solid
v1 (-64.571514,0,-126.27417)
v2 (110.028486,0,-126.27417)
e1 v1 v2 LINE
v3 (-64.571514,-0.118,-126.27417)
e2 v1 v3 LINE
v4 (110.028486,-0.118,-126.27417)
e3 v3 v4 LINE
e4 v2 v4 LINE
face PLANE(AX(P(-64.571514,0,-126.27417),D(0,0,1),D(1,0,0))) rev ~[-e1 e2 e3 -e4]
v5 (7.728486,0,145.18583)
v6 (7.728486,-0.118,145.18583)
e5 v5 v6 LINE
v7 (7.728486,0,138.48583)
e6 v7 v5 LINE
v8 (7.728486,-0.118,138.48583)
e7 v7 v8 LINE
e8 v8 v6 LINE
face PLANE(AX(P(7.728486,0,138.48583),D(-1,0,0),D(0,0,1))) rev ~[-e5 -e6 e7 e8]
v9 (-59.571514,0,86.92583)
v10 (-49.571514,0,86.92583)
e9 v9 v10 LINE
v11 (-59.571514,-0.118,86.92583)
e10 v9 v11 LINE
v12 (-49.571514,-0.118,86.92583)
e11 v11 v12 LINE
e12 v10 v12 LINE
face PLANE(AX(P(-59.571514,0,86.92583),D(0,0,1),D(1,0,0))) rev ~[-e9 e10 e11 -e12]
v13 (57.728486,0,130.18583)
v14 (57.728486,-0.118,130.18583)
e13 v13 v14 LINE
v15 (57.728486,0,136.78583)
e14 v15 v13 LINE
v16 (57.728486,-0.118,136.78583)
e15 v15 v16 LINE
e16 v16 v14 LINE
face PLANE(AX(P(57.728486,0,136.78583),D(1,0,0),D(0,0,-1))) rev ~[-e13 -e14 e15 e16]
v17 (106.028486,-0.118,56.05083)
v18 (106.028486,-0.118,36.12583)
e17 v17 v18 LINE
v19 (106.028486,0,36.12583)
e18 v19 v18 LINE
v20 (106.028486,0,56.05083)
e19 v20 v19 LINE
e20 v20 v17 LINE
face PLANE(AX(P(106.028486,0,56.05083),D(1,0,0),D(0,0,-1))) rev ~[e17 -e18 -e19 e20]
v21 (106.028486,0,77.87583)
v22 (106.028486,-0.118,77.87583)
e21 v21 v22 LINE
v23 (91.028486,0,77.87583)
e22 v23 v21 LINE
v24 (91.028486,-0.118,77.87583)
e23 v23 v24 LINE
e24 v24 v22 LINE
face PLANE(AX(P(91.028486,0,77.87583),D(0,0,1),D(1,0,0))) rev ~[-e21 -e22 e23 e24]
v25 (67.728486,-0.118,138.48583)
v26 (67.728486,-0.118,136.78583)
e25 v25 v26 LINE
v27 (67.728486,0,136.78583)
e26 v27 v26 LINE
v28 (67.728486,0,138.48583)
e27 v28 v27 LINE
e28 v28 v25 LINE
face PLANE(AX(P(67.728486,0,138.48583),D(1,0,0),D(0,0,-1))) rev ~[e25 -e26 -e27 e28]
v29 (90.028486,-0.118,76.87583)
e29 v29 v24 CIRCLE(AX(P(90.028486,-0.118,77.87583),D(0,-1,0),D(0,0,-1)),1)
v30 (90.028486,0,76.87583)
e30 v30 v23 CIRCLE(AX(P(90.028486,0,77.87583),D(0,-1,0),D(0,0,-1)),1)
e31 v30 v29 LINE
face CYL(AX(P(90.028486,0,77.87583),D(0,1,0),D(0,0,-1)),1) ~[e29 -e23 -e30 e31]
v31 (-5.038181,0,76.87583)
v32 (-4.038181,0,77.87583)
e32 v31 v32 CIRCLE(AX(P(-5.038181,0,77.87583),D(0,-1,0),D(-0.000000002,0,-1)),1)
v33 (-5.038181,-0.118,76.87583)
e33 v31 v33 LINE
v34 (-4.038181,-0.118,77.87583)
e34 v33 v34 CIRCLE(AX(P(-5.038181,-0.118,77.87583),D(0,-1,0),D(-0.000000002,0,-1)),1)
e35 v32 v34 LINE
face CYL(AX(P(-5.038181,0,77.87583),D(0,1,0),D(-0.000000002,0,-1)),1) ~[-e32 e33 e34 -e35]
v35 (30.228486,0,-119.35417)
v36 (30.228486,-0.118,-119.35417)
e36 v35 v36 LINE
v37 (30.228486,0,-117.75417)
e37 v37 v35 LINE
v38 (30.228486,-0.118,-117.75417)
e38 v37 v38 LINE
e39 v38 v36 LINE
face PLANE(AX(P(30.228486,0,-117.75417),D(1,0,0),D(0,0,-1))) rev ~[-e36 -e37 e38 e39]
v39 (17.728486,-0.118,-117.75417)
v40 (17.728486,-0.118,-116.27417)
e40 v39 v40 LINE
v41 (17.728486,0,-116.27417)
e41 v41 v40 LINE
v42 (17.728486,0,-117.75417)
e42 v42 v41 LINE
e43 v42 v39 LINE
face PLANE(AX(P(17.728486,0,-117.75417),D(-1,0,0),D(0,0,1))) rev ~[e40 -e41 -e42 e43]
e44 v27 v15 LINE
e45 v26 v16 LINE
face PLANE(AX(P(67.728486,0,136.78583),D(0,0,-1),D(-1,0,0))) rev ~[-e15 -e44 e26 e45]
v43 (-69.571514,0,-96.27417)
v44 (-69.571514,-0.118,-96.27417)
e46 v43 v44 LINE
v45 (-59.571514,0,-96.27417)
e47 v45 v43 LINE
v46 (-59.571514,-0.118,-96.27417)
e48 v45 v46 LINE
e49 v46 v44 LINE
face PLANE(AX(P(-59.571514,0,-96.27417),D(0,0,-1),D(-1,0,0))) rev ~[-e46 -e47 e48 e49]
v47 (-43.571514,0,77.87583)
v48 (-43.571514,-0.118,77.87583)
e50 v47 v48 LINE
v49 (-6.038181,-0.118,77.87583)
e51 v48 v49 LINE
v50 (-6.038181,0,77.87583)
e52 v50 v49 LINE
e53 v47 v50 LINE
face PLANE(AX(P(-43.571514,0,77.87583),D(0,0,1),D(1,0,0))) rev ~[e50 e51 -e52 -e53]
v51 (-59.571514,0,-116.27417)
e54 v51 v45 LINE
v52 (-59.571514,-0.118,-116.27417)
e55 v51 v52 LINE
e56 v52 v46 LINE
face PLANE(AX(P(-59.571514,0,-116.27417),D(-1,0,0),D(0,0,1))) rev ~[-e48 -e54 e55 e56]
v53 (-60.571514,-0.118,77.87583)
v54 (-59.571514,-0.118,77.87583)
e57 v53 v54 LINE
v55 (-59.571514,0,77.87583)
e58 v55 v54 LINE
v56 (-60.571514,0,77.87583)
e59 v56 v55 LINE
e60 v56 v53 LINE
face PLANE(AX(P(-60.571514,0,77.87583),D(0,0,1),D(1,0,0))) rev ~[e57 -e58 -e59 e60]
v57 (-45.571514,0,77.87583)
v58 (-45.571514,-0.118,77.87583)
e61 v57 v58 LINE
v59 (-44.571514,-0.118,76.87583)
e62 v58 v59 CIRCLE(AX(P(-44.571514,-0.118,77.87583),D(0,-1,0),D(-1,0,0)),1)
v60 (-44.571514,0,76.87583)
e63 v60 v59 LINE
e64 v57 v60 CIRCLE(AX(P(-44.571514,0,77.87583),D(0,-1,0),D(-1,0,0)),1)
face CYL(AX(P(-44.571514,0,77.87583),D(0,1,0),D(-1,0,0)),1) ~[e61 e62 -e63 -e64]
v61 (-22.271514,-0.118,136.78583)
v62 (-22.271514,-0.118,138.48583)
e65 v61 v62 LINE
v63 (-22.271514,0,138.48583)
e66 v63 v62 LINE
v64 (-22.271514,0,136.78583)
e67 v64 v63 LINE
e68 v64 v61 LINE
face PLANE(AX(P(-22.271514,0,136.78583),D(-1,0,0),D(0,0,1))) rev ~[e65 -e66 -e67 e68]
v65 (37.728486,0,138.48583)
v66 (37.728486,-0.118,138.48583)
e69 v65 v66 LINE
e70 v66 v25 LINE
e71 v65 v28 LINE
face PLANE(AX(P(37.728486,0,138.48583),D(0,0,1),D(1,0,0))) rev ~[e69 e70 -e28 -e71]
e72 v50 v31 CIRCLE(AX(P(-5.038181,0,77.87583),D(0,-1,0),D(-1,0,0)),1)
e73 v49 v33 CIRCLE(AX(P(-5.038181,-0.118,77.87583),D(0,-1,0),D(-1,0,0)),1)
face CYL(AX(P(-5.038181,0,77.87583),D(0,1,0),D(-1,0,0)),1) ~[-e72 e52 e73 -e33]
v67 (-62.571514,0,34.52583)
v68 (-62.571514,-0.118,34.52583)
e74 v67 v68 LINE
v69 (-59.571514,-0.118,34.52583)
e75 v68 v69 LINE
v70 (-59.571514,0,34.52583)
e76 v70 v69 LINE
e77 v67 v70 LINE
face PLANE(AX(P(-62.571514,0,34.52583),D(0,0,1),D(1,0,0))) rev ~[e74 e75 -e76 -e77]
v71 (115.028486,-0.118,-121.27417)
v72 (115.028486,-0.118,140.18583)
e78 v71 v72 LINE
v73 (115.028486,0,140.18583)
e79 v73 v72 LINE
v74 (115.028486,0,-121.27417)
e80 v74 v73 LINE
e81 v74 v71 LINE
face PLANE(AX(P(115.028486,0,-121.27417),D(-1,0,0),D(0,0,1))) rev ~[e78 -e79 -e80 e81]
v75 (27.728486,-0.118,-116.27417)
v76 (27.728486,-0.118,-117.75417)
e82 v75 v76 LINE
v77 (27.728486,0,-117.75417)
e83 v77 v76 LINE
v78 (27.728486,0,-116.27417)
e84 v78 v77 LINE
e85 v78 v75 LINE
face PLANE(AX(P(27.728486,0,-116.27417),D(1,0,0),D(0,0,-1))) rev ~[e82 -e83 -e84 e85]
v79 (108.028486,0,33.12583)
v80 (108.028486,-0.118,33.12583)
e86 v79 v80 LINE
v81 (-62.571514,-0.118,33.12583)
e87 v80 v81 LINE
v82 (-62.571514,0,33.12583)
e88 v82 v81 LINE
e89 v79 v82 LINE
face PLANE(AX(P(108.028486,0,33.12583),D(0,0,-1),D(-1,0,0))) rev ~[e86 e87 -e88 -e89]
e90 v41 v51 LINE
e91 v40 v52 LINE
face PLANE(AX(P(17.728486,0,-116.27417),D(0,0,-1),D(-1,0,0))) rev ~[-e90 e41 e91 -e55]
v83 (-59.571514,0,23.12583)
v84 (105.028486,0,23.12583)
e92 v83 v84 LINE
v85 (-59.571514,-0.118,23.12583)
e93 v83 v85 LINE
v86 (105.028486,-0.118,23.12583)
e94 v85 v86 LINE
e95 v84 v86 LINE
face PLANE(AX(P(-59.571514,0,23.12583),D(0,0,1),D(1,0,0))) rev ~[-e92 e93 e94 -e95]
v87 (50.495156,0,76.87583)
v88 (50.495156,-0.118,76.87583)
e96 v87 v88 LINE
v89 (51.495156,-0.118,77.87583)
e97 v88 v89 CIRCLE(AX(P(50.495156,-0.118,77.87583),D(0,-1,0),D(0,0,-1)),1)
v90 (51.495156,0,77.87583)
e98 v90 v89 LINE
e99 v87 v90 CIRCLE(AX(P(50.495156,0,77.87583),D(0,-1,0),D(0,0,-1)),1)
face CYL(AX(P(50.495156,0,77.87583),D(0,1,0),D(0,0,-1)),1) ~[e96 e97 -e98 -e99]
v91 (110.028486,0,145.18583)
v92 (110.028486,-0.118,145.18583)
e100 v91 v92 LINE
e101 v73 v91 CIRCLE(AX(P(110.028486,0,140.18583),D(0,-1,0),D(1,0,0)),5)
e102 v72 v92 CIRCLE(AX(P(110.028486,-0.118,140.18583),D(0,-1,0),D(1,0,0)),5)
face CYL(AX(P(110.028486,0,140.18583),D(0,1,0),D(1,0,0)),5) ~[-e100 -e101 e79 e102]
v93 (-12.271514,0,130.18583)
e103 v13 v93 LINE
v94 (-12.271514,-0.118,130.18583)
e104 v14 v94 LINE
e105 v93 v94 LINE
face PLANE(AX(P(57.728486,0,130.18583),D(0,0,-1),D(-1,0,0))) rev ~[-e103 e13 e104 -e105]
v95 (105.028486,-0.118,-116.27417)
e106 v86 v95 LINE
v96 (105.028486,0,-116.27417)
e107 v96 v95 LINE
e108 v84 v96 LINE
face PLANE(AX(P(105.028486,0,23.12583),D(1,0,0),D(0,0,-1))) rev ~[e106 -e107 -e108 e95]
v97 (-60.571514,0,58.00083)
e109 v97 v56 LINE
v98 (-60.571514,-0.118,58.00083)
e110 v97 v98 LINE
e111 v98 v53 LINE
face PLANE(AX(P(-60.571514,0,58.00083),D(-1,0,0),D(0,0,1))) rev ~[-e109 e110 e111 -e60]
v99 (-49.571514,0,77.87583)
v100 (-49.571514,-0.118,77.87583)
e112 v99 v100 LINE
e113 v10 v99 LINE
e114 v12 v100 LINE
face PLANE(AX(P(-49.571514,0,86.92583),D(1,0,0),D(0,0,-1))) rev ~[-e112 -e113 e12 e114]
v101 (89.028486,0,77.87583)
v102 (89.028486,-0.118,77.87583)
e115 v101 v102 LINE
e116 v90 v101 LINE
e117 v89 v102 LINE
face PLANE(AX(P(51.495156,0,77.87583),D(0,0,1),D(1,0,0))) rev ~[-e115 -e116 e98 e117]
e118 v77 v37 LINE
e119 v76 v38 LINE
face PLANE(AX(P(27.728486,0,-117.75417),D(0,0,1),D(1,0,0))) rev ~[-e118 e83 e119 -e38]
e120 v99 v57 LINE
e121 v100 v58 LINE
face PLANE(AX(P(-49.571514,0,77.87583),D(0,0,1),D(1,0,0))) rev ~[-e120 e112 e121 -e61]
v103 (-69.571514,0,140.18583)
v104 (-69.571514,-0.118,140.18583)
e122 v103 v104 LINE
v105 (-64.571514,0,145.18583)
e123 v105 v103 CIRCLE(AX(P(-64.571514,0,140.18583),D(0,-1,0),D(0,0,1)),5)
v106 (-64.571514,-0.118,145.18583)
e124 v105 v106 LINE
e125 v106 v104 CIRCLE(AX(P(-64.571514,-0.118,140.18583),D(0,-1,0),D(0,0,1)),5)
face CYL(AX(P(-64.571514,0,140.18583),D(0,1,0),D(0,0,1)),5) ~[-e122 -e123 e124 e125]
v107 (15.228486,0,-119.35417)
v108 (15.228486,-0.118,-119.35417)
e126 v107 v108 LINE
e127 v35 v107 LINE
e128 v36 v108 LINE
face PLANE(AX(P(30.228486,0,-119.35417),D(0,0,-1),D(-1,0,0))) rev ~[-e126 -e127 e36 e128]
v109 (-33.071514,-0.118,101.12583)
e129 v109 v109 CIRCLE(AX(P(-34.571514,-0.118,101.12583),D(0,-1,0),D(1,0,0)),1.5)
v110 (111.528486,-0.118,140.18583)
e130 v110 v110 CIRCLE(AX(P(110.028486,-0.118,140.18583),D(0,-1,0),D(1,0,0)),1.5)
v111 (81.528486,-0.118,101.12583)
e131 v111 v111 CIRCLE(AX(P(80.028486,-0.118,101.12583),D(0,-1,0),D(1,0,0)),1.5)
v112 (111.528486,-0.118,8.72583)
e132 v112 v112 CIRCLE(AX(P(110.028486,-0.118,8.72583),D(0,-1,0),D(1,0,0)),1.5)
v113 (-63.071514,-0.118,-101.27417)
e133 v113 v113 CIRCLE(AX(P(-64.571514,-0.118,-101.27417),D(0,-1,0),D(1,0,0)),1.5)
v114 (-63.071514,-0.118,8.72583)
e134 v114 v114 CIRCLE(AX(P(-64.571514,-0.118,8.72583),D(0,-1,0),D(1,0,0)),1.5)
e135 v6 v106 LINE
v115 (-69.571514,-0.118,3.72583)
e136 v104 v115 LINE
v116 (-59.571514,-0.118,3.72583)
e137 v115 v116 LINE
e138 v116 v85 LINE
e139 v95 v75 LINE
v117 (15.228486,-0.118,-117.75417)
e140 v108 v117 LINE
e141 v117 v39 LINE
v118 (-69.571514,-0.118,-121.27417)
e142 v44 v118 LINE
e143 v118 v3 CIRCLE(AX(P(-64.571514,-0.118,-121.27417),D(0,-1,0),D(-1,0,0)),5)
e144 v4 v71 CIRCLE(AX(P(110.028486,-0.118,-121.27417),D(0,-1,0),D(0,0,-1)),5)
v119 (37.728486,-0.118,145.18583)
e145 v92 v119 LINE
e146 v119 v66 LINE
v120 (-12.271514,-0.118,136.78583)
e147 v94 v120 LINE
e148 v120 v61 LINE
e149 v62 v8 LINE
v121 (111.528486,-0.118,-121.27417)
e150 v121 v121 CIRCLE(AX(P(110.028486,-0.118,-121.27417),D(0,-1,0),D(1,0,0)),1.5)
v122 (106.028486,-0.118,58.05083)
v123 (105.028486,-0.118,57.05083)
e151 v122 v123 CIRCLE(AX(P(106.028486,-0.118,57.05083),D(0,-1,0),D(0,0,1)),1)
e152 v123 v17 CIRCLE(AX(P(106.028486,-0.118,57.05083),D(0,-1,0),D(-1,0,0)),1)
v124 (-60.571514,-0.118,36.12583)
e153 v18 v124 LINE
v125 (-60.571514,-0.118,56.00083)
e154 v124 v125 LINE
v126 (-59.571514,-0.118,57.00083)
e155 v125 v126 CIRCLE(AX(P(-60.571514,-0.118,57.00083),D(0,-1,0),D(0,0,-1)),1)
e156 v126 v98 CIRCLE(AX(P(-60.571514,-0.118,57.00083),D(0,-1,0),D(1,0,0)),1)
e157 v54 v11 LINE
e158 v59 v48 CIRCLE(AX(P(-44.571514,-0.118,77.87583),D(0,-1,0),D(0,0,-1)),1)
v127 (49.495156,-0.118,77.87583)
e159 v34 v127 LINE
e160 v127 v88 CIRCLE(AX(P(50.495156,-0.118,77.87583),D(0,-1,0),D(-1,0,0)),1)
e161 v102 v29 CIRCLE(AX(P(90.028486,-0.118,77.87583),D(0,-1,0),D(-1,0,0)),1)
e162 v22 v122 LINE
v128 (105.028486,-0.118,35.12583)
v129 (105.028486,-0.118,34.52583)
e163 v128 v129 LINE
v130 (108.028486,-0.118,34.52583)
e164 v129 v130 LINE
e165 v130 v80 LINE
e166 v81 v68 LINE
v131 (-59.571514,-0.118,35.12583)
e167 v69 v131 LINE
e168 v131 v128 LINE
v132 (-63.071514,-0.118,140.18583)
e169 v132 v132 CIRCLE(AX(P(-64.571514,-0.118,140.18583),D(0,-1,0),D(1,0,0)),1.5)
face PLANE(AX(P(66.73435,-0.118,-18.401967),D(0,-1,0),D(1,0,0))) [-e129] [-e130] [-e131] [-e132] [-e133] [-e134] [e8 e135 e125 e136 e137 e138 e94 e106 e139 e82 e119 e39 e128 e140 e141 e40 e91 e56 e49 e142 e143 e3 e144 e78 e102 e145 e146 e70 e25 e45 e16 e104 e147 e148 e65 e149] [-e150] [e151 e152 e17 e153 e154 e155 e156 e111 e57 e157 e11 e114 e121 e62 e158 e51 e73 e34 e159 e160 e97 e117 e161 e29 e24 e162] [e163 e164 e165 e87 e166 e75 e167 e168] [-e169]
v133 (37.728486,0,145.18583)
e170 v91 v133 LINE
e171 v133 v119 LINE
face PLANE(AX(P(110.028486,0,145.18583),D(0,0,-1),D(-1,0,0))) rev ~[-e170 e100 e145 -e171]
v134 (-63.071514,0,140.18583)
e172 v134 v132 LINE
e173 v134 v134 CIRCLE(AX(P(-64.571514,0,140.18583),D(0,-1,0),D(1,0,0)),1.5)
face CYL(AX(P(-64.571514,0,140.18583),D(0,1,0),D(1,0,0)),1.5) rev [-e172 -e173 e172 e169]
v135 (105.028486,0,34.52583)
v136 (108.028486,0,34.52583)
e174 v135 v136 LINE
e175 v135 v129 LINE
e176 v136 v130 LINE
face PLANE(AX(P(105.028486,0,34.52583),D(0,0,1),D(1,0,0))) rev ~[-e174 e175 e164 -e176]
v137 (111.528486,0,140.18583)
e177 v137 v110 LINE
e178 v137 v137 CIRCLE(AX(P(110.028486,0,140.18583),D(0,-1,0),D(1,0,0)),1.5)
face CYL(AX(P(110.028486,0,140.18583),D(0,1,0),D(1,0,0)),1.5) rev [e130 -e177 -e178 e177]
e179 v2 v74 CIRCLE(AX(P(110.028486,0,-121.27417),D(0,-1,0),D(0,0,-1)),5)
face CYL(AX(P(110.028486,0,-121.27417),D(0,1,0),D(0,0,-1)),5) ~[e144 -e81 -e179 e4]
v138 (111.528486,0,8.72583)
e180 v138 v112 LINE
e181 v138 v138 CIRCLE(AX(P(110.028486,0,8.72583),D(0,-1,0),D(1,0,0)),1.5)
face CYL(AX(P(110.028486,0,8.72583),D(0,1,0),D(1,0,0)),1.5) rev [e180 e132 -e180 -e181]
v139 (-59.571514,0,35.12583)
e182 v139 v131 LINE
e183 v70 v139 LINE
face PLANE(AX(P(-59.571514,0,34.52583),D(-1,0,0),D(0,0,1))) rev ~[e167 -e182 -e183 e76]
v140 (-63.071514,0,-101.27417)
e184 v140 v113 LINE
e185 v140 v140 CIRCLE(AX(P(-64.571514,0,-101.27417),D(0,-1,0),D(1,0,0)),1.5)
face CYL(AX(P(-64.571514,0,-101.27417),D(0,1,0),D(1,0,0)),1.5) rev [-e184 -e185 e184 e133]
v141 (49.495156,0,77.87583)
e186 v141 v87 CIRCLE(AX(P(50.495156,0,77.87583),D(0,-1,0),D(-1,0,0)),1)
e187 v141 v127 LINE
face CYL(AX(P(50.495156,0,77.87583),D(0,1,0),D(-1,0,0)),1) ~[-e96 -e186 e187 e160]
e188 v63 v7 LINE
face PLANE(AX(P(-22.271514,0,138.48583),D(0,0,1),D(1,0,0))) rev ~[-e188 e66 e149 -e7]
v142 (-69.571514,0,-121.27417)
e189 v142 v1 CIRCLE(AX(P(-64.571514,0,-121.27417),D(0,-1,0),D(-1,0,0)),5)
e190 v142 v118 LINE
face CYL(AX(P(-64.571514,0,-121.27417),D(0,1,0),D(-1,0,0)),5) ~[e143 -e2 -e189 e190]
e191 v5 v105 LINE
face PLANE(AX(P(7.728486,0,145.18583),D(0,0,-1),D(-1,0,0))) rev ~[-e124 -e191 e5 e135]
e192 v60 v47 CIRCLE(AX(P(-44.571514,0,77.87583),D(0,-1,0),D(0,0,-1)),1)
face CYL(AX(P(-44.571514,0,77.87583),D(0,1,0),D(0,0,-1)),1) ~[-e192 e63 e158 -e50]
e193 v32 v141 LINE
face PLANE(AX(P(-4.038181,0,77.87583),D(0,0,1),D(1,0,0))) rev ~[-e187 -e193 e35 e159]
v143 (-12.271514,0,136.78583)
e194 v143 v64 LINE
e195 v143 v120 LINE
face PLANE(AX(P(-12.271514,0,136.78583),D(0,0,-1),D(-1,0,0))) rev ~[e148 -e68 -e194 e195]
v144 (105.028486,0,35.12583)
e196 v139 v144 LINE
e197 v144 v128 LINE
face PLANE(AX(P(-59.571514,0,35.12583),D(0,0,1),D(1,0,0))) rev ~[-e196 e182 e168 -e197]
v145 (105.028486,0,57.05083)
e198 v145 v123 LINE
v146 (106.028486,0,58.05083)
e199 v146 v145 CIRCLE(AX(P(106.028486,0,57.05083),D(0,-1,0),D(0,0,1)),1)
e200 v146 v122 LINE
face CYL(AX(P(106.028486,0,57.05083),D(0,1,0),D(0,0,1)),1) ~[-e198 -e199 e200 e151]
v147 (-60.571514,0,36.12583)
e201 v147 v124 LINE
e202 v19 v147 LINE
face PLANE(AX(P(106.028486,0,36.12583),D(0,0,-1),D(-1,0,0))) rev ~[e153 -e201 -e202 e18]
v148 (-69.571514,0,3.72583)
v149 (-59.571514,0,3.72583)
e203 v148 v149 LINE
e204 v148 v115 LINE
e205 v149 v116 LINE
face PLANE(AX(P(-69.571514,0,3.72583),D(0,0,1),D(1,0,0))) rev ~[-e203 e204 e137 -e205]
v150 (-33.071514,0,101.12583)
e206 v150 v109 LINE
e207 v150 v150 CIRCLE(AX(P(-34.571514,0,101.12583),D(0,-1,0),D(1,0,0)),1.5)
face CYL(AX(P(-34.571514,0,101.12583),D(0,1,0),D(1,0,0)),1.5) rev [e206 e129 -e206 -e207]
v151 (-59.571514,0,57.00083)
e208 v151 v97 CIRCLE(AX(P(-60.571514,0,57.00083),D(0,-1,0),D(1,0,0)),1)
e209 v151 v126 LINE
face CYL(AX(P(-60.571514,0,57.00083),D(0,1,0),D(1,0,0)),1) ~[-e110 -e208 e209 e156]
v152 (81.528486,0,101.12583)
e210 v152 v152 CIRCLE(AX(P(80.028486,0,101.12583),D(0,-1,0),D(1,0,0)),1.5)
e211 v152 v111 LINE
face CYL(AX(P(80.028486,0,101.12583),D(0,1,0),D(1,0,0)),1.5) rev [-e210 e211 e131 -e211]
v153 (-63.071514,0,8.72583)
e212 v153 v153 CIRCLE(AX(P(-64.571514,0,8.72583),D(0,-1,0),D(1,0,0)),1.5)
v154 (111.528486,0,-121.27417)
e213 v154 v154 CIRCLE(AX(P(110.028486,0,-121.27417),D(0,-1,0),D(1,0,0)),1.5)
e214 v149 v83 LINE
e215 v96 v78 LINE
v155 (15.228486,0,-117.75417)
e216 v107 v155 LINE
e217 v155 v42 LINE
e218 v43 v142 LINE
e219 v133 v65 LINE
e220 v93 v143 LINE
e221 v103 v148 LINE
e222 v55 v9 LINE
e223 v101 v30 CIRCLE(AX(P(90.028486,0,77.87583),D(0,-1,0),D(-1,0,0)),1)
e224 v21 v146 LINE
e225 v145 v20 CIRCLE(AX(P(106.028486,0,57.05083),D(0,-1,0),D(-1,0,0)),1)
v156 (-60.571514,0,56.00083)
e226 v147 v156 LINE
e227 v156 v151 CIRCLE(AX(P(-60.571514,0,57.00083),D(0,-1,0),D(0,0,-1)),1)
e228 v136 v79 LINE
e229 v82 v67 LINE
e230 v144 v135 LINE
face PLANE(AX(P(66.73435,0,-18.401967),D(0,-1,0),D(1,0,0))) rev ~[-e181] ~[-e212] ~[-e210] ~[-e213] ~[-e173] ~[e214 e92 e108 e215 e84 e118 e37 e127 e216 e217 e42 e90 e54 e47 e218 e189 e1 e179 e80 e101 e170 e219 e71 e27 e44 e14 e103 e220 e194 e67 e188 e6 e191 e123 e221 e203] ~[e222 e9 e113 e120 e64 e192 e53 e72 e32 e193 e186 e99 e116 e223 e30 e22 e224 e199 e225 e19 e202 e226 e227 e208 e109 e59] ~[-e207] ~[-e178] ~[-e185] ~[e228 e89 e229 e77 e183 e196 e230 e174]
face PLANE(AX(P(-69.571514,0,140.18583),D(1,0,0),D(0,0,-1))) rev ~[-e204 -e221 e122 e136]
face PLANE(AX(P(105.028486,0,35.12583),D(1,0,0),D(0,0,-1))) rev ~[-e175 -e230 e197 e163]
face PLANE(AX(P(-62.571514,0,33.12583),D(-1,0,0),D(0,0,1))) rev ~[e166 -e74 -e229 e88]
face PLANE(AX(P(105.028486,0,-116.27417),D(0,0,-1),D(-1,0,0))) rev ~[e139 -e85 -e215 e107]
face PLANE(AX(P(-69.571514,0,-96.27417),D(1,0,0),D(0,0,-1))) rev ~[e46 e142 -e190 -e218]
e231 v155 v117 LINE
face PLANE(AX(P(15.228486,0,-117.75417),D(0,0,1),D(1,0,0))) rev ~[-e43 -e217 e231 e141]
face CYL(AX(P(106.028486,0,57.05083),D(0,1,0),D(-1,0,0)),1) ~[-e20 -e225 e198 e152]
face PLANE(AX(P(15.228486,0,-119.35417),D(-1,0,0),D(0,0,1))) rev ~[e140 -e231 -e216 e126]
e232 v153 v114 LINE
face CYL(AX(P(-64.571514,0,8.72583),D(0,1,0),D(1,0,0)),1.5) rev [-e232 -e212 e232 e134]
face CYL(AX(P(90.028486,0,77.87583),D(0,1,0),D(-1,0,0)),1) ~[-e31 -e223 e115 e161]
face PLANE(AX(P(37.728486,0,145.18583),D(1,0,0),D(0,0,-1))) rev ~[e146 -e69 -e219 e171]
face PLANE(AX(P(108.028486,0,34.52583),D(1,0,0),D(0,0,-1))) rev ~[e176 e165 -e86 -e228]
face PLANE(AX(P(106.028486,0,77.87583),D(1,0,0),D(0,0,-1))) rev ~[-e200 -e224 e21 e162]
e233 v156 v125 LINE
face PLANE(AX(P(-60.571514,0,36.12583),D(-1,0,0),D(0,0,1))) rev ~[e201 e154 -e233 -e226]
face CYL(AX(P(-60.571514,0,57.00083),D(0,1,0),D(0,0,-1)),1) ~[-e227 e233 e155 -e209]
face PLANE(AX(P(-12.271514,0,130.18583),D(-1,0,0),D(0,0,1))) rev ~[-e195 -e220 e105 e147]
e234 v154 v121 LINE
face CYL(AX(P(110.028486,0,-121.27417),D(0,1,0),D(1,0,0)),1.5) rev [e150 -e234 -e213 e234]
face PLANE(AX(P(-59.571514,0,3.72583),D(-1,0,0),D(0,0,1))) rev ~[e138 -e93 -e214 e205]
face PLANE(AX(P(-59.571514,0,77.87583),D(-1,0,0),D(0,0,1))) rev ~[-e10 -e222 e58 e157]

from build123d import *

# Parameters (mm, degrees)
F0_R     = 1.5
F0_W     = 3
F0_H     = 0.6
F0_W_2   = 57.3
F0_H_2   = 10
F0_W_3   = 1.3
F0_H_3   = 1
F0_W_4   = 30
F0_H_4   = 52.31
F1_DEPTH = 0.118


with BuildPart() as f1:
    # F0 (on Front) → F1 (new body)
    with BuildSketch(Plane.XZ):
        with BuildLine():
            Line((110.0284859866, 145.1858304774), (37.7284859866, 145.1858304774))
            Line((37.7284859866, 145.1858304774), (37.7284859866, 138.4858304774))
            Line((37.7284859866, 138.4858304774), (67.7284859866, 138.4858304774))
            Line((67.7284859866, 138.4858304774), (67.7284859866, 136.7858304774))
            Line((67.7284859866, 136.7858304774), (57.7284859866, 136.7858304774))
            Line((57.7284859866, 136.7858304774), (57.7284859866, 135.1858304774))
            Line((57.7284859866, 135.1858304774), (105.0284859866, 135.1858304774))
            Line((105.0284859866, 135.1858304774), (105.0284859866, 77.8758304774))
            Line((105.0284859866, 77.8758304774), (106.0284859866, 77.8758304774))
            Line((106.0284859866, 77.8758304774), (106.0284859866, 58.0508304774))
            ThreePointArc((106.0284859866, 58.0508304774), (106.7355927678, 57.7579372586), (107.0284859866, 57.0508304774))
            ThreePointArc((107.0284859866, 57.0508304774), (106.7355927678, 56.3437236962), (106.0284859866, 56.0508304774))
            Line((106.0284859866, 56.0508304774), (106.0284859866, 36.1258304774))
            Line((106.0284859866, 36.1258304774), (105.0284859866, 36.1258304774))
            Line((105.0284859866, 36.1258304774), (105.0284859866, 35.1258304774))
            Line((105.0284859866, 35.1258304774), (108.0284859866, 35.1258304774))
            Line((108.0284859866, 35.1258304774), (108.0284859866, 34.5258304774))
            Line((108.0284859866, 34.5258304774), (108.0284859866, 33.1258304774))
            Line((108.0284859866, 33.1258304774), (105.0284859866, 33.1258304774))
            Line((105.0284859866, 33.1258304774), (105.0284859866, 23.1258304774))
            Line((105.0284859866, 23.1258304774), (105.0284859866, -116.2741695226))
            Line((105.0284859866, -116.2741695226), (27.7284859866, -116.2741695226))
            Line((27.7284859866, -116.2741695226), (27.7284859866, -117.7541695226))
            Line((27.7284859866, -117.7541695226), (30.2284859866, -117.7541695226))
            Line((30.2284859866, -117.7541695226), (30.2284859866, -119.3541695226))
            Line((30.2284859866, -119.3541695226), (15.2284859866, -119.3541695226))
            Line((15.2284859866, -119.3541695226), (15.2284859866, -117.7541695226))
            Line((15.2284859866, -117.7541695226), (17.7284859866, -117.7541695226))
            Line((17.7284859866, -117.7541695226), (17.7284859866, -116.2741695226))
            Line((17.7284859866, -116.2741695226), (-59.5715140134, -116.2741695226))
            Line((-59.5715140134, -116.2741695226), (-59.5715140134, -96.2741695226))
            Line((-59.5715140134, -96.2741695226), (-69.5715140134, -96.2741695226))
            Line((-69.5715140134, -96.2741695226), (-69.5715140134, -121.2741695226))
            ThreePointArc((-69.5715140134, -121.2741695226), (-68.1070479193, -124.8097034285), (-64.5715140134, -126.2741695226))
            Line((-64.5715140134, -126.2741695226), (110.0284859866, -126.2741695226))
            ThreePointArc((110.0284859866, -126.2741695226), (113.5640198925, -124.8097034285), (115.0284859866, -121.2741695226))
            Line((115.0284859866, -121.2741695226), (115.0284859866, 140.1858304774))
            ThreePointArc((115.0284859866, 140.1858304774), (113.5640198925, 143.7213643833), (110.0284859866, 145.1858304774))
        make_face()
        with Locations((-64.5715140134, -101.2741695226)):
            Circle(F0_R, mode=Mode.SUBTRACT)
        with Locations((110.0284859866, -121.2741695226)):
            Circle(F0_R, mode=Mode.SUBTRACT)
        with Locations((110.0284859866, 8.7258304774)):
            Circle(F0_R, mode=Mode.SUBTRACT)
        with Locations((110.0284859866, 140.1858304774)):
            Circle(F0_R, mode=Mode.SUBTRACT)
        with Locations((-61.0715140134, 34.8258304774)):
            Rectangle(F0_W, F0_H)
        with Locations((106.5284859866, 34.8258304774)):
            Rectangle(F0_W, F0_H)
        with BuildLine():
            Line((7.7284859866, 77.8758304774), (7.7284859866, 130.1858304774))
            Line((7.7284859866, 130.1858304774), (-12.2715140134, 130.1858304774))
            Line((-12.2715140134, 130.1858304774), (-38.5766702966, 77.8758304774))
            Line((-38.5766702966, 77.8758304774), (-6.0381810134, 77.8758304774))
            ThreePointArc((-6.0381810134, 77.8758304774), (-5.0381810134, 78.8758304774), (-4.0381810134, 77.8758304774))
            Line((-4.0381810134, 77.8758304774), (7.7284859866, 77.8758304774))
        make_face()
        with Locations((66.3784859866, 28.1258304774)):
            Rectangle(F0_W_2, F0_H_2)
        with Locations((-20.9215140134, 28.1258304774)):
            Rectangle(F0_W_2, F0_H_2)
        with BuildLine():
            Line((105.0284859866, 135.1858304774), (57.7284859866, 135.1858304774))
            Line((57.7284859866, 135.1858304774), (57.7284859866, 130.1858304774))
            Line((57.7284859866, 130.1858304774), (84.0336422698, 77.8758304774))
            Line((84.0336422698, 77.8758304774), (89.0284859866, 77.8758304774))
            ThreePointArc((89.0284859866, 77.8758304774), (90.0284859866, 78.8758304774), (91.0284859866, 77.8758304774))
            Line((91.0284859866, 77.8758304774), (105.0284859866, 77.8758304774))
            Line((105.0284859866, 77.8758304774), (105.0284859866, 135.1858304774))
        make_face()
        with Locations((80.0284859866, 101.1258304774)):
            Circle(F0_R, mode=Mode.SUBTRACT)
        with BuildLine():
            Line((57.7284859866, 130.1858304774), (37.7284859866, 130.1858304774))
            Line((37.7284859866, 130.1858304774), (37.7284859866, 77.8758304774))
            Line((37.7284859866, 77.8758304774), (49.4951559866, 77.8758304774))
            ThreePointArc((49.4951559866, 77.8758304774), (50.4951559866, 78.8758304774), (51.4951559866, 77.8758304774))
            Line((51.4951559866, 77.8758304774), (84.0336422698, 77.8758304774))
            Line((84.0336422698, 77.8758304774), (57.7284859866, 130.1858304774))
        make_face()
        with BuildLine():
            ThreePointArc((107.0284859866, 57.0508304774), (106.7355927678, 57.7579372586), (106.0284859866, 58.0508304774))
            Line((106.0284859866, 58.0508304774), (106.0284859866, 56.0508304774))
            ThreePointArc((106.0284859866, 56.0508304774), (106.7355927678, 56.3437236962), (107.0284859866, 57.0508304774))
        make_face()
        with BuildLine():
            ThreePointArc((51.4951559866, 77.8758304774), (50.4951559866, 78.8758304774), (49.4951559866, 77.8758304774))
            Line((49.4951559866, 77.8758304774), (51.4951559866, 77.8758304774))
        make_face()
        with BuildLine():
            Line((-60.5715140134, 56.0008304774), (-60.5715140134, 58.0008304774))
            ThreePointArc((-60.5715140134, 58.0008304774), (-61.5715140134, 57.0008304774), (-60.5715140134, 56.0008304774))
        make_face()
        Polygon((37.7284859866, 36.1258304774), (37.7284859866, 35.1258304774), (95.0284859866, 35.1258304774), (95.0284859866, 36.1258304774), (85.0284859866, 36.1258304774), align=None)
        with BuildLine():
            Line((-6.0381810134, 77.8758304774), (-4.0381810134, 77.8758304774))
            ThreePointArc((-4.0381810134, 77.8758304774), (-5.0381810134, 78.8758304774), (-6.0381810134, 77.8758304774))
        make_face()
        Polygon((-49.5715140134, 36.1258304774), (-49.5715140134, 35.1258304774), (7.7284859866, 35.1258304774), (7.7284859866, 36.1258304774), (-39.5715140134, 36.1258304774), align=None)
        with BuildLine():
            Line((51.4951559866, 77.8758304774), (49.4951559866, 77.8758304774))
            ThreePointArc((49.4951559866, 77.8758304774), (49.7880492054, 77.1687236962), (50.4951559866, 76.8758304774))
            ThreePointArc((50.4951559866, 76.8758304774), (51.2022627678, 77.1687236962), (51.4951559866, 77.8758304774))
        make_face()
        with BuildLine():
            Line((106.0284859866, 56.0508304774), (106.0284859866, 58.0508304774))
            ThreePointArc((106.0284859866, 58.0508304774), (105.3213792054, 57.7579372586), (105.0284859866, 57.0508304774))
            ThreePointArc((105.0284859866, 57.0508304774), (105.3213792054, 56.3437236962), (106.0284859866, 56.0508304774))
        make_face()
        with BuildLine():
            ThreePointArc((-5.0381810151, 76.8758304774), (-4.3310742328, 77.1687236956), (-4.0381810134, 77.8758304774))
            Line((-4.0381810134, 77.8758304774), (-6.0381810134, 77.8758304774))
            ThreePointArc((-6.0381810134, 77.8758304774), (-5.7452877952, 77.1687236968), (-5.0381810151, 76.8758304774))
        make_face()
        with BuildLine():
            ThreePointArc((-60.5715140134, 56.0008304774), (-59.8644072322, 56.2937236962), (-59.5715140134, 57.0008304774))
            ThreePointArc((-59.5715140134, 57.0008304774), (-59.8644072322, 57.7079372586), (-60.5715140134, 58.0008304774))
            Line((-60.5715140134, 58.0008304774), (-60.5715140134, 56.0008304774))
        make_face()
        with BuildLine():
            Line((7.7284859866, 145.1858304774), (-64.5715140134, 145.1858304774))
            ThreePointArc((-64.5715140134, 145.1858304774), (-68.1070479193, 143.7213643833), (-69.5715140134, 140.1858304774))
            Line((-69.5715140134, 140.1858304774), (-69.5715140134, 3.7258304774))
            Line((-69.5715140134, 3.7258304774), (-59.5715140134, 3.7258304774))
            Line((-59.5715140134, 3.7258304774), (-59.5715140134, 23.1258304774))
            Line((-59.5715140134, 23.1258304774), (-59.5715140134, 33.1258304774))
            Line((-59.5715140134, 33.1258304774), (-62.5715140134, 33.1258304774))
            Line((-62.5715140134, 33.1258304774), (-62.5715140134, 34.5258304774))
            Line((-62.5715140134, 34.5258304774), (-62.5715140134, 35.1258304774))
            Line((-62.5715140134, 35.1258304774), (-59.5715140134, 35.1258304774))
            Line((-59.5715140134, 35.1258304774), (-59.5715140134, 36.1258304774))
            Line((-59.5715140134, 36.1258304774), (-60.5715140134, 36.1258304774))
            Line((-60.5715140134, 36.1258304774), (-60.5715140134, 56.0008304774))
            ThreePointArc((-60.5715140134, 56.0008304774), (-61.5715140134, 57.0008304774), (-60.5715140134, 58.0008304774))
            Line((-60.5715140134, 58.0008304774), (-60.5715140134, 77.8758304774))
            Line((-60.5715140134, 77.8758304774), (-59.5715140134, 77.8758304774))
            Line((-59.5715140134, 77.8758304774), (-59.5715140134, 86.9258304774))
            Line((-59.5715140134, 86.9258304774), (-59.5715140134, 135.1858304774))
            Line((-59.5715140134, 135.1858304774), (-12.2715140134, 135.1858304774))
            Line((-12.2715140134, 135.1858304774), (-12.2715140134, 136.7858304774))
            Line((-12.2715140134, 136.7858304774), (-22.2715140134, 136.7858304774))
            Line((-22.2715140134, 136.7858304774), (-22.2715140134, 138.4858304774))
            Line((-22.2715140134, 138.4858304774), (7.7284859866, 138.4858304774))
            Line((7.7284859866, 138.4858304774), (7.7284859866, 145.1858304774))
        make_face()
        with Locations((-64.5715140134, 8.7258304774)):
            Circle(F0_R, mode=Mode.SUBTRACT)
        with Locations((-64.5715140134, 140.1858304774)):
            Circle(F0_R, mode=Mode.SUBTRACT)
        with BuildLine():
            Line((-12.2715140134, 130.1858304774), (-12.2715140134, 135.1858304774))
            Line((-12.2715140134, 135.1858304774), (-59.5715140134, 135.1858304774))
            Line((-59.5715140134, 135.1858304774), (-59.5715140134, 86.9258304774))
            Line((-59.5715140134, 86.9258304774), (-49.5715140134, 86.9258304774))
            Line((-49.5715140134, 86.9258304774), (-49.5715140134, 77.8758304774))
            Line((-49.5715140134, 77.8758304774), (-45.5715140134, 77.8758304774))
            ThreePointArc((-45.5715140134, 77.8758304774), (-44.5715140134, 78.8758304774), (-43.5715140134, 77.8758304774))
            Line((-43.5715140134, 77.8758304774), (-38.5766702966, 77.8758304774))
            Line((-38.5766702966, 77.8758304774), (-12.2715140134, 130.1858304774))
        make_face()
        with Locations((-34.5715140134, 101.1258304774)):
            Circle(F0_R, mode=Mode.SUBTRACT)
        with BuildLine():
            ThreePointArc((90.0284859866, 76.8758304774), (90.7355927678, 77.1687236962), (91.0284859866, 77.8758304774))
            Line((91.0284859866, 77.8758304774), (89.0284859866, 77.8758304774))
            ThreePointArc((89.0284859866, 77.8758304774), (89.3213792054, 77.1687236962), (90.0284859866, 76.8758304774))
        make_face()
        with BuildLine():
            Line((89.0284859866, 77.8758304774), (91.0284859866, 77.8758304774))
            ThreePointArc((91.0284859866, 77.8758304774), (90.0284859866, 78.8758304774), (89.0284859866, 77.8758304774))
        make_face()
        with BuildLine():
            ThreePointArc((-44.5715140134, 76.8758304774), (-43.8644072322, 77.1687236962), (-43.5715140134, 77.8758304774))
            Line((-43.5715140134, 77.8758304774), (-45.5715140134, 77.8758304774))
            ThreePointArc((-45.5715140134, 77.8758304774), (-45.2786207946, 77.1687236962), (-44.5715140134, 76.8758304774))
        make_face()
        with BuildLine():
            Line((-45.5715140134, 77.8758304774), (-43.5715140134, 77.8758304774))
            ThreePointArc((-43.5715140134, 77.8758304774), (-44.5715140134, 78.8758304774), (-45.5715140134, 77.8758304774))
        make_face()
        Polygon((-59.5715140134, 33.1258304774), (-59.5715140134, 23.1258304774), (-49.5715140134, 23.1258304774), (-49.5715140134, 33.1258304774), (-58.2715140134, 33.1258304774), align=None)
        Polygon((-58.2715140134, 36.1258304774), (-58.2715140134, 35.1258304774), (-49.5715140134, 35.1258304774), (-49.5715140134, 36.1258304774), (-52.2715140134, 36.1258304774), (-55.2715140134, 36.1258304774), align=None)
        with Locations((-58.9215140134, 35.6258304774)):
            Rectangle(F0_W_3, F0_H_3)
        with Locations((22.7284859866, 35.6258304774)):
            Rectangle(F0_W_4, F0_H_3)
        with Locations((22.7284859866, 28.1258304774)):
            Rectangle(F0_W_4, F0_H_2)
        Polygon((95.0284859866, 36.1258304774), (95.0284859866, 35.1258304774), (103.7284859866, 35.1258304774), (103.7284859866, 36.1258304774), (100.7284859866, 36.1258304774), (97.7284859866, 36.1258304774), align=None)
        with Locations((104.3784859866, 35.6258304774)):
            Rectangle(F0_W_3, F0_H_3)
        Polygon((95.0284859866, 33.1258304774), (95.0284859866, 23.1258304774), (105.0284859866, 23.1258304774), (105.0284859866, 33.1258304774), (103.7284859866, 33.1258304774), align=None)
        with Locations((22.7284859866, 104.0308304774)):
            Rectangle(F0_W_4, F0_H_4)
    extrude(amount=F1_DEPTH)


solid = f1.part
